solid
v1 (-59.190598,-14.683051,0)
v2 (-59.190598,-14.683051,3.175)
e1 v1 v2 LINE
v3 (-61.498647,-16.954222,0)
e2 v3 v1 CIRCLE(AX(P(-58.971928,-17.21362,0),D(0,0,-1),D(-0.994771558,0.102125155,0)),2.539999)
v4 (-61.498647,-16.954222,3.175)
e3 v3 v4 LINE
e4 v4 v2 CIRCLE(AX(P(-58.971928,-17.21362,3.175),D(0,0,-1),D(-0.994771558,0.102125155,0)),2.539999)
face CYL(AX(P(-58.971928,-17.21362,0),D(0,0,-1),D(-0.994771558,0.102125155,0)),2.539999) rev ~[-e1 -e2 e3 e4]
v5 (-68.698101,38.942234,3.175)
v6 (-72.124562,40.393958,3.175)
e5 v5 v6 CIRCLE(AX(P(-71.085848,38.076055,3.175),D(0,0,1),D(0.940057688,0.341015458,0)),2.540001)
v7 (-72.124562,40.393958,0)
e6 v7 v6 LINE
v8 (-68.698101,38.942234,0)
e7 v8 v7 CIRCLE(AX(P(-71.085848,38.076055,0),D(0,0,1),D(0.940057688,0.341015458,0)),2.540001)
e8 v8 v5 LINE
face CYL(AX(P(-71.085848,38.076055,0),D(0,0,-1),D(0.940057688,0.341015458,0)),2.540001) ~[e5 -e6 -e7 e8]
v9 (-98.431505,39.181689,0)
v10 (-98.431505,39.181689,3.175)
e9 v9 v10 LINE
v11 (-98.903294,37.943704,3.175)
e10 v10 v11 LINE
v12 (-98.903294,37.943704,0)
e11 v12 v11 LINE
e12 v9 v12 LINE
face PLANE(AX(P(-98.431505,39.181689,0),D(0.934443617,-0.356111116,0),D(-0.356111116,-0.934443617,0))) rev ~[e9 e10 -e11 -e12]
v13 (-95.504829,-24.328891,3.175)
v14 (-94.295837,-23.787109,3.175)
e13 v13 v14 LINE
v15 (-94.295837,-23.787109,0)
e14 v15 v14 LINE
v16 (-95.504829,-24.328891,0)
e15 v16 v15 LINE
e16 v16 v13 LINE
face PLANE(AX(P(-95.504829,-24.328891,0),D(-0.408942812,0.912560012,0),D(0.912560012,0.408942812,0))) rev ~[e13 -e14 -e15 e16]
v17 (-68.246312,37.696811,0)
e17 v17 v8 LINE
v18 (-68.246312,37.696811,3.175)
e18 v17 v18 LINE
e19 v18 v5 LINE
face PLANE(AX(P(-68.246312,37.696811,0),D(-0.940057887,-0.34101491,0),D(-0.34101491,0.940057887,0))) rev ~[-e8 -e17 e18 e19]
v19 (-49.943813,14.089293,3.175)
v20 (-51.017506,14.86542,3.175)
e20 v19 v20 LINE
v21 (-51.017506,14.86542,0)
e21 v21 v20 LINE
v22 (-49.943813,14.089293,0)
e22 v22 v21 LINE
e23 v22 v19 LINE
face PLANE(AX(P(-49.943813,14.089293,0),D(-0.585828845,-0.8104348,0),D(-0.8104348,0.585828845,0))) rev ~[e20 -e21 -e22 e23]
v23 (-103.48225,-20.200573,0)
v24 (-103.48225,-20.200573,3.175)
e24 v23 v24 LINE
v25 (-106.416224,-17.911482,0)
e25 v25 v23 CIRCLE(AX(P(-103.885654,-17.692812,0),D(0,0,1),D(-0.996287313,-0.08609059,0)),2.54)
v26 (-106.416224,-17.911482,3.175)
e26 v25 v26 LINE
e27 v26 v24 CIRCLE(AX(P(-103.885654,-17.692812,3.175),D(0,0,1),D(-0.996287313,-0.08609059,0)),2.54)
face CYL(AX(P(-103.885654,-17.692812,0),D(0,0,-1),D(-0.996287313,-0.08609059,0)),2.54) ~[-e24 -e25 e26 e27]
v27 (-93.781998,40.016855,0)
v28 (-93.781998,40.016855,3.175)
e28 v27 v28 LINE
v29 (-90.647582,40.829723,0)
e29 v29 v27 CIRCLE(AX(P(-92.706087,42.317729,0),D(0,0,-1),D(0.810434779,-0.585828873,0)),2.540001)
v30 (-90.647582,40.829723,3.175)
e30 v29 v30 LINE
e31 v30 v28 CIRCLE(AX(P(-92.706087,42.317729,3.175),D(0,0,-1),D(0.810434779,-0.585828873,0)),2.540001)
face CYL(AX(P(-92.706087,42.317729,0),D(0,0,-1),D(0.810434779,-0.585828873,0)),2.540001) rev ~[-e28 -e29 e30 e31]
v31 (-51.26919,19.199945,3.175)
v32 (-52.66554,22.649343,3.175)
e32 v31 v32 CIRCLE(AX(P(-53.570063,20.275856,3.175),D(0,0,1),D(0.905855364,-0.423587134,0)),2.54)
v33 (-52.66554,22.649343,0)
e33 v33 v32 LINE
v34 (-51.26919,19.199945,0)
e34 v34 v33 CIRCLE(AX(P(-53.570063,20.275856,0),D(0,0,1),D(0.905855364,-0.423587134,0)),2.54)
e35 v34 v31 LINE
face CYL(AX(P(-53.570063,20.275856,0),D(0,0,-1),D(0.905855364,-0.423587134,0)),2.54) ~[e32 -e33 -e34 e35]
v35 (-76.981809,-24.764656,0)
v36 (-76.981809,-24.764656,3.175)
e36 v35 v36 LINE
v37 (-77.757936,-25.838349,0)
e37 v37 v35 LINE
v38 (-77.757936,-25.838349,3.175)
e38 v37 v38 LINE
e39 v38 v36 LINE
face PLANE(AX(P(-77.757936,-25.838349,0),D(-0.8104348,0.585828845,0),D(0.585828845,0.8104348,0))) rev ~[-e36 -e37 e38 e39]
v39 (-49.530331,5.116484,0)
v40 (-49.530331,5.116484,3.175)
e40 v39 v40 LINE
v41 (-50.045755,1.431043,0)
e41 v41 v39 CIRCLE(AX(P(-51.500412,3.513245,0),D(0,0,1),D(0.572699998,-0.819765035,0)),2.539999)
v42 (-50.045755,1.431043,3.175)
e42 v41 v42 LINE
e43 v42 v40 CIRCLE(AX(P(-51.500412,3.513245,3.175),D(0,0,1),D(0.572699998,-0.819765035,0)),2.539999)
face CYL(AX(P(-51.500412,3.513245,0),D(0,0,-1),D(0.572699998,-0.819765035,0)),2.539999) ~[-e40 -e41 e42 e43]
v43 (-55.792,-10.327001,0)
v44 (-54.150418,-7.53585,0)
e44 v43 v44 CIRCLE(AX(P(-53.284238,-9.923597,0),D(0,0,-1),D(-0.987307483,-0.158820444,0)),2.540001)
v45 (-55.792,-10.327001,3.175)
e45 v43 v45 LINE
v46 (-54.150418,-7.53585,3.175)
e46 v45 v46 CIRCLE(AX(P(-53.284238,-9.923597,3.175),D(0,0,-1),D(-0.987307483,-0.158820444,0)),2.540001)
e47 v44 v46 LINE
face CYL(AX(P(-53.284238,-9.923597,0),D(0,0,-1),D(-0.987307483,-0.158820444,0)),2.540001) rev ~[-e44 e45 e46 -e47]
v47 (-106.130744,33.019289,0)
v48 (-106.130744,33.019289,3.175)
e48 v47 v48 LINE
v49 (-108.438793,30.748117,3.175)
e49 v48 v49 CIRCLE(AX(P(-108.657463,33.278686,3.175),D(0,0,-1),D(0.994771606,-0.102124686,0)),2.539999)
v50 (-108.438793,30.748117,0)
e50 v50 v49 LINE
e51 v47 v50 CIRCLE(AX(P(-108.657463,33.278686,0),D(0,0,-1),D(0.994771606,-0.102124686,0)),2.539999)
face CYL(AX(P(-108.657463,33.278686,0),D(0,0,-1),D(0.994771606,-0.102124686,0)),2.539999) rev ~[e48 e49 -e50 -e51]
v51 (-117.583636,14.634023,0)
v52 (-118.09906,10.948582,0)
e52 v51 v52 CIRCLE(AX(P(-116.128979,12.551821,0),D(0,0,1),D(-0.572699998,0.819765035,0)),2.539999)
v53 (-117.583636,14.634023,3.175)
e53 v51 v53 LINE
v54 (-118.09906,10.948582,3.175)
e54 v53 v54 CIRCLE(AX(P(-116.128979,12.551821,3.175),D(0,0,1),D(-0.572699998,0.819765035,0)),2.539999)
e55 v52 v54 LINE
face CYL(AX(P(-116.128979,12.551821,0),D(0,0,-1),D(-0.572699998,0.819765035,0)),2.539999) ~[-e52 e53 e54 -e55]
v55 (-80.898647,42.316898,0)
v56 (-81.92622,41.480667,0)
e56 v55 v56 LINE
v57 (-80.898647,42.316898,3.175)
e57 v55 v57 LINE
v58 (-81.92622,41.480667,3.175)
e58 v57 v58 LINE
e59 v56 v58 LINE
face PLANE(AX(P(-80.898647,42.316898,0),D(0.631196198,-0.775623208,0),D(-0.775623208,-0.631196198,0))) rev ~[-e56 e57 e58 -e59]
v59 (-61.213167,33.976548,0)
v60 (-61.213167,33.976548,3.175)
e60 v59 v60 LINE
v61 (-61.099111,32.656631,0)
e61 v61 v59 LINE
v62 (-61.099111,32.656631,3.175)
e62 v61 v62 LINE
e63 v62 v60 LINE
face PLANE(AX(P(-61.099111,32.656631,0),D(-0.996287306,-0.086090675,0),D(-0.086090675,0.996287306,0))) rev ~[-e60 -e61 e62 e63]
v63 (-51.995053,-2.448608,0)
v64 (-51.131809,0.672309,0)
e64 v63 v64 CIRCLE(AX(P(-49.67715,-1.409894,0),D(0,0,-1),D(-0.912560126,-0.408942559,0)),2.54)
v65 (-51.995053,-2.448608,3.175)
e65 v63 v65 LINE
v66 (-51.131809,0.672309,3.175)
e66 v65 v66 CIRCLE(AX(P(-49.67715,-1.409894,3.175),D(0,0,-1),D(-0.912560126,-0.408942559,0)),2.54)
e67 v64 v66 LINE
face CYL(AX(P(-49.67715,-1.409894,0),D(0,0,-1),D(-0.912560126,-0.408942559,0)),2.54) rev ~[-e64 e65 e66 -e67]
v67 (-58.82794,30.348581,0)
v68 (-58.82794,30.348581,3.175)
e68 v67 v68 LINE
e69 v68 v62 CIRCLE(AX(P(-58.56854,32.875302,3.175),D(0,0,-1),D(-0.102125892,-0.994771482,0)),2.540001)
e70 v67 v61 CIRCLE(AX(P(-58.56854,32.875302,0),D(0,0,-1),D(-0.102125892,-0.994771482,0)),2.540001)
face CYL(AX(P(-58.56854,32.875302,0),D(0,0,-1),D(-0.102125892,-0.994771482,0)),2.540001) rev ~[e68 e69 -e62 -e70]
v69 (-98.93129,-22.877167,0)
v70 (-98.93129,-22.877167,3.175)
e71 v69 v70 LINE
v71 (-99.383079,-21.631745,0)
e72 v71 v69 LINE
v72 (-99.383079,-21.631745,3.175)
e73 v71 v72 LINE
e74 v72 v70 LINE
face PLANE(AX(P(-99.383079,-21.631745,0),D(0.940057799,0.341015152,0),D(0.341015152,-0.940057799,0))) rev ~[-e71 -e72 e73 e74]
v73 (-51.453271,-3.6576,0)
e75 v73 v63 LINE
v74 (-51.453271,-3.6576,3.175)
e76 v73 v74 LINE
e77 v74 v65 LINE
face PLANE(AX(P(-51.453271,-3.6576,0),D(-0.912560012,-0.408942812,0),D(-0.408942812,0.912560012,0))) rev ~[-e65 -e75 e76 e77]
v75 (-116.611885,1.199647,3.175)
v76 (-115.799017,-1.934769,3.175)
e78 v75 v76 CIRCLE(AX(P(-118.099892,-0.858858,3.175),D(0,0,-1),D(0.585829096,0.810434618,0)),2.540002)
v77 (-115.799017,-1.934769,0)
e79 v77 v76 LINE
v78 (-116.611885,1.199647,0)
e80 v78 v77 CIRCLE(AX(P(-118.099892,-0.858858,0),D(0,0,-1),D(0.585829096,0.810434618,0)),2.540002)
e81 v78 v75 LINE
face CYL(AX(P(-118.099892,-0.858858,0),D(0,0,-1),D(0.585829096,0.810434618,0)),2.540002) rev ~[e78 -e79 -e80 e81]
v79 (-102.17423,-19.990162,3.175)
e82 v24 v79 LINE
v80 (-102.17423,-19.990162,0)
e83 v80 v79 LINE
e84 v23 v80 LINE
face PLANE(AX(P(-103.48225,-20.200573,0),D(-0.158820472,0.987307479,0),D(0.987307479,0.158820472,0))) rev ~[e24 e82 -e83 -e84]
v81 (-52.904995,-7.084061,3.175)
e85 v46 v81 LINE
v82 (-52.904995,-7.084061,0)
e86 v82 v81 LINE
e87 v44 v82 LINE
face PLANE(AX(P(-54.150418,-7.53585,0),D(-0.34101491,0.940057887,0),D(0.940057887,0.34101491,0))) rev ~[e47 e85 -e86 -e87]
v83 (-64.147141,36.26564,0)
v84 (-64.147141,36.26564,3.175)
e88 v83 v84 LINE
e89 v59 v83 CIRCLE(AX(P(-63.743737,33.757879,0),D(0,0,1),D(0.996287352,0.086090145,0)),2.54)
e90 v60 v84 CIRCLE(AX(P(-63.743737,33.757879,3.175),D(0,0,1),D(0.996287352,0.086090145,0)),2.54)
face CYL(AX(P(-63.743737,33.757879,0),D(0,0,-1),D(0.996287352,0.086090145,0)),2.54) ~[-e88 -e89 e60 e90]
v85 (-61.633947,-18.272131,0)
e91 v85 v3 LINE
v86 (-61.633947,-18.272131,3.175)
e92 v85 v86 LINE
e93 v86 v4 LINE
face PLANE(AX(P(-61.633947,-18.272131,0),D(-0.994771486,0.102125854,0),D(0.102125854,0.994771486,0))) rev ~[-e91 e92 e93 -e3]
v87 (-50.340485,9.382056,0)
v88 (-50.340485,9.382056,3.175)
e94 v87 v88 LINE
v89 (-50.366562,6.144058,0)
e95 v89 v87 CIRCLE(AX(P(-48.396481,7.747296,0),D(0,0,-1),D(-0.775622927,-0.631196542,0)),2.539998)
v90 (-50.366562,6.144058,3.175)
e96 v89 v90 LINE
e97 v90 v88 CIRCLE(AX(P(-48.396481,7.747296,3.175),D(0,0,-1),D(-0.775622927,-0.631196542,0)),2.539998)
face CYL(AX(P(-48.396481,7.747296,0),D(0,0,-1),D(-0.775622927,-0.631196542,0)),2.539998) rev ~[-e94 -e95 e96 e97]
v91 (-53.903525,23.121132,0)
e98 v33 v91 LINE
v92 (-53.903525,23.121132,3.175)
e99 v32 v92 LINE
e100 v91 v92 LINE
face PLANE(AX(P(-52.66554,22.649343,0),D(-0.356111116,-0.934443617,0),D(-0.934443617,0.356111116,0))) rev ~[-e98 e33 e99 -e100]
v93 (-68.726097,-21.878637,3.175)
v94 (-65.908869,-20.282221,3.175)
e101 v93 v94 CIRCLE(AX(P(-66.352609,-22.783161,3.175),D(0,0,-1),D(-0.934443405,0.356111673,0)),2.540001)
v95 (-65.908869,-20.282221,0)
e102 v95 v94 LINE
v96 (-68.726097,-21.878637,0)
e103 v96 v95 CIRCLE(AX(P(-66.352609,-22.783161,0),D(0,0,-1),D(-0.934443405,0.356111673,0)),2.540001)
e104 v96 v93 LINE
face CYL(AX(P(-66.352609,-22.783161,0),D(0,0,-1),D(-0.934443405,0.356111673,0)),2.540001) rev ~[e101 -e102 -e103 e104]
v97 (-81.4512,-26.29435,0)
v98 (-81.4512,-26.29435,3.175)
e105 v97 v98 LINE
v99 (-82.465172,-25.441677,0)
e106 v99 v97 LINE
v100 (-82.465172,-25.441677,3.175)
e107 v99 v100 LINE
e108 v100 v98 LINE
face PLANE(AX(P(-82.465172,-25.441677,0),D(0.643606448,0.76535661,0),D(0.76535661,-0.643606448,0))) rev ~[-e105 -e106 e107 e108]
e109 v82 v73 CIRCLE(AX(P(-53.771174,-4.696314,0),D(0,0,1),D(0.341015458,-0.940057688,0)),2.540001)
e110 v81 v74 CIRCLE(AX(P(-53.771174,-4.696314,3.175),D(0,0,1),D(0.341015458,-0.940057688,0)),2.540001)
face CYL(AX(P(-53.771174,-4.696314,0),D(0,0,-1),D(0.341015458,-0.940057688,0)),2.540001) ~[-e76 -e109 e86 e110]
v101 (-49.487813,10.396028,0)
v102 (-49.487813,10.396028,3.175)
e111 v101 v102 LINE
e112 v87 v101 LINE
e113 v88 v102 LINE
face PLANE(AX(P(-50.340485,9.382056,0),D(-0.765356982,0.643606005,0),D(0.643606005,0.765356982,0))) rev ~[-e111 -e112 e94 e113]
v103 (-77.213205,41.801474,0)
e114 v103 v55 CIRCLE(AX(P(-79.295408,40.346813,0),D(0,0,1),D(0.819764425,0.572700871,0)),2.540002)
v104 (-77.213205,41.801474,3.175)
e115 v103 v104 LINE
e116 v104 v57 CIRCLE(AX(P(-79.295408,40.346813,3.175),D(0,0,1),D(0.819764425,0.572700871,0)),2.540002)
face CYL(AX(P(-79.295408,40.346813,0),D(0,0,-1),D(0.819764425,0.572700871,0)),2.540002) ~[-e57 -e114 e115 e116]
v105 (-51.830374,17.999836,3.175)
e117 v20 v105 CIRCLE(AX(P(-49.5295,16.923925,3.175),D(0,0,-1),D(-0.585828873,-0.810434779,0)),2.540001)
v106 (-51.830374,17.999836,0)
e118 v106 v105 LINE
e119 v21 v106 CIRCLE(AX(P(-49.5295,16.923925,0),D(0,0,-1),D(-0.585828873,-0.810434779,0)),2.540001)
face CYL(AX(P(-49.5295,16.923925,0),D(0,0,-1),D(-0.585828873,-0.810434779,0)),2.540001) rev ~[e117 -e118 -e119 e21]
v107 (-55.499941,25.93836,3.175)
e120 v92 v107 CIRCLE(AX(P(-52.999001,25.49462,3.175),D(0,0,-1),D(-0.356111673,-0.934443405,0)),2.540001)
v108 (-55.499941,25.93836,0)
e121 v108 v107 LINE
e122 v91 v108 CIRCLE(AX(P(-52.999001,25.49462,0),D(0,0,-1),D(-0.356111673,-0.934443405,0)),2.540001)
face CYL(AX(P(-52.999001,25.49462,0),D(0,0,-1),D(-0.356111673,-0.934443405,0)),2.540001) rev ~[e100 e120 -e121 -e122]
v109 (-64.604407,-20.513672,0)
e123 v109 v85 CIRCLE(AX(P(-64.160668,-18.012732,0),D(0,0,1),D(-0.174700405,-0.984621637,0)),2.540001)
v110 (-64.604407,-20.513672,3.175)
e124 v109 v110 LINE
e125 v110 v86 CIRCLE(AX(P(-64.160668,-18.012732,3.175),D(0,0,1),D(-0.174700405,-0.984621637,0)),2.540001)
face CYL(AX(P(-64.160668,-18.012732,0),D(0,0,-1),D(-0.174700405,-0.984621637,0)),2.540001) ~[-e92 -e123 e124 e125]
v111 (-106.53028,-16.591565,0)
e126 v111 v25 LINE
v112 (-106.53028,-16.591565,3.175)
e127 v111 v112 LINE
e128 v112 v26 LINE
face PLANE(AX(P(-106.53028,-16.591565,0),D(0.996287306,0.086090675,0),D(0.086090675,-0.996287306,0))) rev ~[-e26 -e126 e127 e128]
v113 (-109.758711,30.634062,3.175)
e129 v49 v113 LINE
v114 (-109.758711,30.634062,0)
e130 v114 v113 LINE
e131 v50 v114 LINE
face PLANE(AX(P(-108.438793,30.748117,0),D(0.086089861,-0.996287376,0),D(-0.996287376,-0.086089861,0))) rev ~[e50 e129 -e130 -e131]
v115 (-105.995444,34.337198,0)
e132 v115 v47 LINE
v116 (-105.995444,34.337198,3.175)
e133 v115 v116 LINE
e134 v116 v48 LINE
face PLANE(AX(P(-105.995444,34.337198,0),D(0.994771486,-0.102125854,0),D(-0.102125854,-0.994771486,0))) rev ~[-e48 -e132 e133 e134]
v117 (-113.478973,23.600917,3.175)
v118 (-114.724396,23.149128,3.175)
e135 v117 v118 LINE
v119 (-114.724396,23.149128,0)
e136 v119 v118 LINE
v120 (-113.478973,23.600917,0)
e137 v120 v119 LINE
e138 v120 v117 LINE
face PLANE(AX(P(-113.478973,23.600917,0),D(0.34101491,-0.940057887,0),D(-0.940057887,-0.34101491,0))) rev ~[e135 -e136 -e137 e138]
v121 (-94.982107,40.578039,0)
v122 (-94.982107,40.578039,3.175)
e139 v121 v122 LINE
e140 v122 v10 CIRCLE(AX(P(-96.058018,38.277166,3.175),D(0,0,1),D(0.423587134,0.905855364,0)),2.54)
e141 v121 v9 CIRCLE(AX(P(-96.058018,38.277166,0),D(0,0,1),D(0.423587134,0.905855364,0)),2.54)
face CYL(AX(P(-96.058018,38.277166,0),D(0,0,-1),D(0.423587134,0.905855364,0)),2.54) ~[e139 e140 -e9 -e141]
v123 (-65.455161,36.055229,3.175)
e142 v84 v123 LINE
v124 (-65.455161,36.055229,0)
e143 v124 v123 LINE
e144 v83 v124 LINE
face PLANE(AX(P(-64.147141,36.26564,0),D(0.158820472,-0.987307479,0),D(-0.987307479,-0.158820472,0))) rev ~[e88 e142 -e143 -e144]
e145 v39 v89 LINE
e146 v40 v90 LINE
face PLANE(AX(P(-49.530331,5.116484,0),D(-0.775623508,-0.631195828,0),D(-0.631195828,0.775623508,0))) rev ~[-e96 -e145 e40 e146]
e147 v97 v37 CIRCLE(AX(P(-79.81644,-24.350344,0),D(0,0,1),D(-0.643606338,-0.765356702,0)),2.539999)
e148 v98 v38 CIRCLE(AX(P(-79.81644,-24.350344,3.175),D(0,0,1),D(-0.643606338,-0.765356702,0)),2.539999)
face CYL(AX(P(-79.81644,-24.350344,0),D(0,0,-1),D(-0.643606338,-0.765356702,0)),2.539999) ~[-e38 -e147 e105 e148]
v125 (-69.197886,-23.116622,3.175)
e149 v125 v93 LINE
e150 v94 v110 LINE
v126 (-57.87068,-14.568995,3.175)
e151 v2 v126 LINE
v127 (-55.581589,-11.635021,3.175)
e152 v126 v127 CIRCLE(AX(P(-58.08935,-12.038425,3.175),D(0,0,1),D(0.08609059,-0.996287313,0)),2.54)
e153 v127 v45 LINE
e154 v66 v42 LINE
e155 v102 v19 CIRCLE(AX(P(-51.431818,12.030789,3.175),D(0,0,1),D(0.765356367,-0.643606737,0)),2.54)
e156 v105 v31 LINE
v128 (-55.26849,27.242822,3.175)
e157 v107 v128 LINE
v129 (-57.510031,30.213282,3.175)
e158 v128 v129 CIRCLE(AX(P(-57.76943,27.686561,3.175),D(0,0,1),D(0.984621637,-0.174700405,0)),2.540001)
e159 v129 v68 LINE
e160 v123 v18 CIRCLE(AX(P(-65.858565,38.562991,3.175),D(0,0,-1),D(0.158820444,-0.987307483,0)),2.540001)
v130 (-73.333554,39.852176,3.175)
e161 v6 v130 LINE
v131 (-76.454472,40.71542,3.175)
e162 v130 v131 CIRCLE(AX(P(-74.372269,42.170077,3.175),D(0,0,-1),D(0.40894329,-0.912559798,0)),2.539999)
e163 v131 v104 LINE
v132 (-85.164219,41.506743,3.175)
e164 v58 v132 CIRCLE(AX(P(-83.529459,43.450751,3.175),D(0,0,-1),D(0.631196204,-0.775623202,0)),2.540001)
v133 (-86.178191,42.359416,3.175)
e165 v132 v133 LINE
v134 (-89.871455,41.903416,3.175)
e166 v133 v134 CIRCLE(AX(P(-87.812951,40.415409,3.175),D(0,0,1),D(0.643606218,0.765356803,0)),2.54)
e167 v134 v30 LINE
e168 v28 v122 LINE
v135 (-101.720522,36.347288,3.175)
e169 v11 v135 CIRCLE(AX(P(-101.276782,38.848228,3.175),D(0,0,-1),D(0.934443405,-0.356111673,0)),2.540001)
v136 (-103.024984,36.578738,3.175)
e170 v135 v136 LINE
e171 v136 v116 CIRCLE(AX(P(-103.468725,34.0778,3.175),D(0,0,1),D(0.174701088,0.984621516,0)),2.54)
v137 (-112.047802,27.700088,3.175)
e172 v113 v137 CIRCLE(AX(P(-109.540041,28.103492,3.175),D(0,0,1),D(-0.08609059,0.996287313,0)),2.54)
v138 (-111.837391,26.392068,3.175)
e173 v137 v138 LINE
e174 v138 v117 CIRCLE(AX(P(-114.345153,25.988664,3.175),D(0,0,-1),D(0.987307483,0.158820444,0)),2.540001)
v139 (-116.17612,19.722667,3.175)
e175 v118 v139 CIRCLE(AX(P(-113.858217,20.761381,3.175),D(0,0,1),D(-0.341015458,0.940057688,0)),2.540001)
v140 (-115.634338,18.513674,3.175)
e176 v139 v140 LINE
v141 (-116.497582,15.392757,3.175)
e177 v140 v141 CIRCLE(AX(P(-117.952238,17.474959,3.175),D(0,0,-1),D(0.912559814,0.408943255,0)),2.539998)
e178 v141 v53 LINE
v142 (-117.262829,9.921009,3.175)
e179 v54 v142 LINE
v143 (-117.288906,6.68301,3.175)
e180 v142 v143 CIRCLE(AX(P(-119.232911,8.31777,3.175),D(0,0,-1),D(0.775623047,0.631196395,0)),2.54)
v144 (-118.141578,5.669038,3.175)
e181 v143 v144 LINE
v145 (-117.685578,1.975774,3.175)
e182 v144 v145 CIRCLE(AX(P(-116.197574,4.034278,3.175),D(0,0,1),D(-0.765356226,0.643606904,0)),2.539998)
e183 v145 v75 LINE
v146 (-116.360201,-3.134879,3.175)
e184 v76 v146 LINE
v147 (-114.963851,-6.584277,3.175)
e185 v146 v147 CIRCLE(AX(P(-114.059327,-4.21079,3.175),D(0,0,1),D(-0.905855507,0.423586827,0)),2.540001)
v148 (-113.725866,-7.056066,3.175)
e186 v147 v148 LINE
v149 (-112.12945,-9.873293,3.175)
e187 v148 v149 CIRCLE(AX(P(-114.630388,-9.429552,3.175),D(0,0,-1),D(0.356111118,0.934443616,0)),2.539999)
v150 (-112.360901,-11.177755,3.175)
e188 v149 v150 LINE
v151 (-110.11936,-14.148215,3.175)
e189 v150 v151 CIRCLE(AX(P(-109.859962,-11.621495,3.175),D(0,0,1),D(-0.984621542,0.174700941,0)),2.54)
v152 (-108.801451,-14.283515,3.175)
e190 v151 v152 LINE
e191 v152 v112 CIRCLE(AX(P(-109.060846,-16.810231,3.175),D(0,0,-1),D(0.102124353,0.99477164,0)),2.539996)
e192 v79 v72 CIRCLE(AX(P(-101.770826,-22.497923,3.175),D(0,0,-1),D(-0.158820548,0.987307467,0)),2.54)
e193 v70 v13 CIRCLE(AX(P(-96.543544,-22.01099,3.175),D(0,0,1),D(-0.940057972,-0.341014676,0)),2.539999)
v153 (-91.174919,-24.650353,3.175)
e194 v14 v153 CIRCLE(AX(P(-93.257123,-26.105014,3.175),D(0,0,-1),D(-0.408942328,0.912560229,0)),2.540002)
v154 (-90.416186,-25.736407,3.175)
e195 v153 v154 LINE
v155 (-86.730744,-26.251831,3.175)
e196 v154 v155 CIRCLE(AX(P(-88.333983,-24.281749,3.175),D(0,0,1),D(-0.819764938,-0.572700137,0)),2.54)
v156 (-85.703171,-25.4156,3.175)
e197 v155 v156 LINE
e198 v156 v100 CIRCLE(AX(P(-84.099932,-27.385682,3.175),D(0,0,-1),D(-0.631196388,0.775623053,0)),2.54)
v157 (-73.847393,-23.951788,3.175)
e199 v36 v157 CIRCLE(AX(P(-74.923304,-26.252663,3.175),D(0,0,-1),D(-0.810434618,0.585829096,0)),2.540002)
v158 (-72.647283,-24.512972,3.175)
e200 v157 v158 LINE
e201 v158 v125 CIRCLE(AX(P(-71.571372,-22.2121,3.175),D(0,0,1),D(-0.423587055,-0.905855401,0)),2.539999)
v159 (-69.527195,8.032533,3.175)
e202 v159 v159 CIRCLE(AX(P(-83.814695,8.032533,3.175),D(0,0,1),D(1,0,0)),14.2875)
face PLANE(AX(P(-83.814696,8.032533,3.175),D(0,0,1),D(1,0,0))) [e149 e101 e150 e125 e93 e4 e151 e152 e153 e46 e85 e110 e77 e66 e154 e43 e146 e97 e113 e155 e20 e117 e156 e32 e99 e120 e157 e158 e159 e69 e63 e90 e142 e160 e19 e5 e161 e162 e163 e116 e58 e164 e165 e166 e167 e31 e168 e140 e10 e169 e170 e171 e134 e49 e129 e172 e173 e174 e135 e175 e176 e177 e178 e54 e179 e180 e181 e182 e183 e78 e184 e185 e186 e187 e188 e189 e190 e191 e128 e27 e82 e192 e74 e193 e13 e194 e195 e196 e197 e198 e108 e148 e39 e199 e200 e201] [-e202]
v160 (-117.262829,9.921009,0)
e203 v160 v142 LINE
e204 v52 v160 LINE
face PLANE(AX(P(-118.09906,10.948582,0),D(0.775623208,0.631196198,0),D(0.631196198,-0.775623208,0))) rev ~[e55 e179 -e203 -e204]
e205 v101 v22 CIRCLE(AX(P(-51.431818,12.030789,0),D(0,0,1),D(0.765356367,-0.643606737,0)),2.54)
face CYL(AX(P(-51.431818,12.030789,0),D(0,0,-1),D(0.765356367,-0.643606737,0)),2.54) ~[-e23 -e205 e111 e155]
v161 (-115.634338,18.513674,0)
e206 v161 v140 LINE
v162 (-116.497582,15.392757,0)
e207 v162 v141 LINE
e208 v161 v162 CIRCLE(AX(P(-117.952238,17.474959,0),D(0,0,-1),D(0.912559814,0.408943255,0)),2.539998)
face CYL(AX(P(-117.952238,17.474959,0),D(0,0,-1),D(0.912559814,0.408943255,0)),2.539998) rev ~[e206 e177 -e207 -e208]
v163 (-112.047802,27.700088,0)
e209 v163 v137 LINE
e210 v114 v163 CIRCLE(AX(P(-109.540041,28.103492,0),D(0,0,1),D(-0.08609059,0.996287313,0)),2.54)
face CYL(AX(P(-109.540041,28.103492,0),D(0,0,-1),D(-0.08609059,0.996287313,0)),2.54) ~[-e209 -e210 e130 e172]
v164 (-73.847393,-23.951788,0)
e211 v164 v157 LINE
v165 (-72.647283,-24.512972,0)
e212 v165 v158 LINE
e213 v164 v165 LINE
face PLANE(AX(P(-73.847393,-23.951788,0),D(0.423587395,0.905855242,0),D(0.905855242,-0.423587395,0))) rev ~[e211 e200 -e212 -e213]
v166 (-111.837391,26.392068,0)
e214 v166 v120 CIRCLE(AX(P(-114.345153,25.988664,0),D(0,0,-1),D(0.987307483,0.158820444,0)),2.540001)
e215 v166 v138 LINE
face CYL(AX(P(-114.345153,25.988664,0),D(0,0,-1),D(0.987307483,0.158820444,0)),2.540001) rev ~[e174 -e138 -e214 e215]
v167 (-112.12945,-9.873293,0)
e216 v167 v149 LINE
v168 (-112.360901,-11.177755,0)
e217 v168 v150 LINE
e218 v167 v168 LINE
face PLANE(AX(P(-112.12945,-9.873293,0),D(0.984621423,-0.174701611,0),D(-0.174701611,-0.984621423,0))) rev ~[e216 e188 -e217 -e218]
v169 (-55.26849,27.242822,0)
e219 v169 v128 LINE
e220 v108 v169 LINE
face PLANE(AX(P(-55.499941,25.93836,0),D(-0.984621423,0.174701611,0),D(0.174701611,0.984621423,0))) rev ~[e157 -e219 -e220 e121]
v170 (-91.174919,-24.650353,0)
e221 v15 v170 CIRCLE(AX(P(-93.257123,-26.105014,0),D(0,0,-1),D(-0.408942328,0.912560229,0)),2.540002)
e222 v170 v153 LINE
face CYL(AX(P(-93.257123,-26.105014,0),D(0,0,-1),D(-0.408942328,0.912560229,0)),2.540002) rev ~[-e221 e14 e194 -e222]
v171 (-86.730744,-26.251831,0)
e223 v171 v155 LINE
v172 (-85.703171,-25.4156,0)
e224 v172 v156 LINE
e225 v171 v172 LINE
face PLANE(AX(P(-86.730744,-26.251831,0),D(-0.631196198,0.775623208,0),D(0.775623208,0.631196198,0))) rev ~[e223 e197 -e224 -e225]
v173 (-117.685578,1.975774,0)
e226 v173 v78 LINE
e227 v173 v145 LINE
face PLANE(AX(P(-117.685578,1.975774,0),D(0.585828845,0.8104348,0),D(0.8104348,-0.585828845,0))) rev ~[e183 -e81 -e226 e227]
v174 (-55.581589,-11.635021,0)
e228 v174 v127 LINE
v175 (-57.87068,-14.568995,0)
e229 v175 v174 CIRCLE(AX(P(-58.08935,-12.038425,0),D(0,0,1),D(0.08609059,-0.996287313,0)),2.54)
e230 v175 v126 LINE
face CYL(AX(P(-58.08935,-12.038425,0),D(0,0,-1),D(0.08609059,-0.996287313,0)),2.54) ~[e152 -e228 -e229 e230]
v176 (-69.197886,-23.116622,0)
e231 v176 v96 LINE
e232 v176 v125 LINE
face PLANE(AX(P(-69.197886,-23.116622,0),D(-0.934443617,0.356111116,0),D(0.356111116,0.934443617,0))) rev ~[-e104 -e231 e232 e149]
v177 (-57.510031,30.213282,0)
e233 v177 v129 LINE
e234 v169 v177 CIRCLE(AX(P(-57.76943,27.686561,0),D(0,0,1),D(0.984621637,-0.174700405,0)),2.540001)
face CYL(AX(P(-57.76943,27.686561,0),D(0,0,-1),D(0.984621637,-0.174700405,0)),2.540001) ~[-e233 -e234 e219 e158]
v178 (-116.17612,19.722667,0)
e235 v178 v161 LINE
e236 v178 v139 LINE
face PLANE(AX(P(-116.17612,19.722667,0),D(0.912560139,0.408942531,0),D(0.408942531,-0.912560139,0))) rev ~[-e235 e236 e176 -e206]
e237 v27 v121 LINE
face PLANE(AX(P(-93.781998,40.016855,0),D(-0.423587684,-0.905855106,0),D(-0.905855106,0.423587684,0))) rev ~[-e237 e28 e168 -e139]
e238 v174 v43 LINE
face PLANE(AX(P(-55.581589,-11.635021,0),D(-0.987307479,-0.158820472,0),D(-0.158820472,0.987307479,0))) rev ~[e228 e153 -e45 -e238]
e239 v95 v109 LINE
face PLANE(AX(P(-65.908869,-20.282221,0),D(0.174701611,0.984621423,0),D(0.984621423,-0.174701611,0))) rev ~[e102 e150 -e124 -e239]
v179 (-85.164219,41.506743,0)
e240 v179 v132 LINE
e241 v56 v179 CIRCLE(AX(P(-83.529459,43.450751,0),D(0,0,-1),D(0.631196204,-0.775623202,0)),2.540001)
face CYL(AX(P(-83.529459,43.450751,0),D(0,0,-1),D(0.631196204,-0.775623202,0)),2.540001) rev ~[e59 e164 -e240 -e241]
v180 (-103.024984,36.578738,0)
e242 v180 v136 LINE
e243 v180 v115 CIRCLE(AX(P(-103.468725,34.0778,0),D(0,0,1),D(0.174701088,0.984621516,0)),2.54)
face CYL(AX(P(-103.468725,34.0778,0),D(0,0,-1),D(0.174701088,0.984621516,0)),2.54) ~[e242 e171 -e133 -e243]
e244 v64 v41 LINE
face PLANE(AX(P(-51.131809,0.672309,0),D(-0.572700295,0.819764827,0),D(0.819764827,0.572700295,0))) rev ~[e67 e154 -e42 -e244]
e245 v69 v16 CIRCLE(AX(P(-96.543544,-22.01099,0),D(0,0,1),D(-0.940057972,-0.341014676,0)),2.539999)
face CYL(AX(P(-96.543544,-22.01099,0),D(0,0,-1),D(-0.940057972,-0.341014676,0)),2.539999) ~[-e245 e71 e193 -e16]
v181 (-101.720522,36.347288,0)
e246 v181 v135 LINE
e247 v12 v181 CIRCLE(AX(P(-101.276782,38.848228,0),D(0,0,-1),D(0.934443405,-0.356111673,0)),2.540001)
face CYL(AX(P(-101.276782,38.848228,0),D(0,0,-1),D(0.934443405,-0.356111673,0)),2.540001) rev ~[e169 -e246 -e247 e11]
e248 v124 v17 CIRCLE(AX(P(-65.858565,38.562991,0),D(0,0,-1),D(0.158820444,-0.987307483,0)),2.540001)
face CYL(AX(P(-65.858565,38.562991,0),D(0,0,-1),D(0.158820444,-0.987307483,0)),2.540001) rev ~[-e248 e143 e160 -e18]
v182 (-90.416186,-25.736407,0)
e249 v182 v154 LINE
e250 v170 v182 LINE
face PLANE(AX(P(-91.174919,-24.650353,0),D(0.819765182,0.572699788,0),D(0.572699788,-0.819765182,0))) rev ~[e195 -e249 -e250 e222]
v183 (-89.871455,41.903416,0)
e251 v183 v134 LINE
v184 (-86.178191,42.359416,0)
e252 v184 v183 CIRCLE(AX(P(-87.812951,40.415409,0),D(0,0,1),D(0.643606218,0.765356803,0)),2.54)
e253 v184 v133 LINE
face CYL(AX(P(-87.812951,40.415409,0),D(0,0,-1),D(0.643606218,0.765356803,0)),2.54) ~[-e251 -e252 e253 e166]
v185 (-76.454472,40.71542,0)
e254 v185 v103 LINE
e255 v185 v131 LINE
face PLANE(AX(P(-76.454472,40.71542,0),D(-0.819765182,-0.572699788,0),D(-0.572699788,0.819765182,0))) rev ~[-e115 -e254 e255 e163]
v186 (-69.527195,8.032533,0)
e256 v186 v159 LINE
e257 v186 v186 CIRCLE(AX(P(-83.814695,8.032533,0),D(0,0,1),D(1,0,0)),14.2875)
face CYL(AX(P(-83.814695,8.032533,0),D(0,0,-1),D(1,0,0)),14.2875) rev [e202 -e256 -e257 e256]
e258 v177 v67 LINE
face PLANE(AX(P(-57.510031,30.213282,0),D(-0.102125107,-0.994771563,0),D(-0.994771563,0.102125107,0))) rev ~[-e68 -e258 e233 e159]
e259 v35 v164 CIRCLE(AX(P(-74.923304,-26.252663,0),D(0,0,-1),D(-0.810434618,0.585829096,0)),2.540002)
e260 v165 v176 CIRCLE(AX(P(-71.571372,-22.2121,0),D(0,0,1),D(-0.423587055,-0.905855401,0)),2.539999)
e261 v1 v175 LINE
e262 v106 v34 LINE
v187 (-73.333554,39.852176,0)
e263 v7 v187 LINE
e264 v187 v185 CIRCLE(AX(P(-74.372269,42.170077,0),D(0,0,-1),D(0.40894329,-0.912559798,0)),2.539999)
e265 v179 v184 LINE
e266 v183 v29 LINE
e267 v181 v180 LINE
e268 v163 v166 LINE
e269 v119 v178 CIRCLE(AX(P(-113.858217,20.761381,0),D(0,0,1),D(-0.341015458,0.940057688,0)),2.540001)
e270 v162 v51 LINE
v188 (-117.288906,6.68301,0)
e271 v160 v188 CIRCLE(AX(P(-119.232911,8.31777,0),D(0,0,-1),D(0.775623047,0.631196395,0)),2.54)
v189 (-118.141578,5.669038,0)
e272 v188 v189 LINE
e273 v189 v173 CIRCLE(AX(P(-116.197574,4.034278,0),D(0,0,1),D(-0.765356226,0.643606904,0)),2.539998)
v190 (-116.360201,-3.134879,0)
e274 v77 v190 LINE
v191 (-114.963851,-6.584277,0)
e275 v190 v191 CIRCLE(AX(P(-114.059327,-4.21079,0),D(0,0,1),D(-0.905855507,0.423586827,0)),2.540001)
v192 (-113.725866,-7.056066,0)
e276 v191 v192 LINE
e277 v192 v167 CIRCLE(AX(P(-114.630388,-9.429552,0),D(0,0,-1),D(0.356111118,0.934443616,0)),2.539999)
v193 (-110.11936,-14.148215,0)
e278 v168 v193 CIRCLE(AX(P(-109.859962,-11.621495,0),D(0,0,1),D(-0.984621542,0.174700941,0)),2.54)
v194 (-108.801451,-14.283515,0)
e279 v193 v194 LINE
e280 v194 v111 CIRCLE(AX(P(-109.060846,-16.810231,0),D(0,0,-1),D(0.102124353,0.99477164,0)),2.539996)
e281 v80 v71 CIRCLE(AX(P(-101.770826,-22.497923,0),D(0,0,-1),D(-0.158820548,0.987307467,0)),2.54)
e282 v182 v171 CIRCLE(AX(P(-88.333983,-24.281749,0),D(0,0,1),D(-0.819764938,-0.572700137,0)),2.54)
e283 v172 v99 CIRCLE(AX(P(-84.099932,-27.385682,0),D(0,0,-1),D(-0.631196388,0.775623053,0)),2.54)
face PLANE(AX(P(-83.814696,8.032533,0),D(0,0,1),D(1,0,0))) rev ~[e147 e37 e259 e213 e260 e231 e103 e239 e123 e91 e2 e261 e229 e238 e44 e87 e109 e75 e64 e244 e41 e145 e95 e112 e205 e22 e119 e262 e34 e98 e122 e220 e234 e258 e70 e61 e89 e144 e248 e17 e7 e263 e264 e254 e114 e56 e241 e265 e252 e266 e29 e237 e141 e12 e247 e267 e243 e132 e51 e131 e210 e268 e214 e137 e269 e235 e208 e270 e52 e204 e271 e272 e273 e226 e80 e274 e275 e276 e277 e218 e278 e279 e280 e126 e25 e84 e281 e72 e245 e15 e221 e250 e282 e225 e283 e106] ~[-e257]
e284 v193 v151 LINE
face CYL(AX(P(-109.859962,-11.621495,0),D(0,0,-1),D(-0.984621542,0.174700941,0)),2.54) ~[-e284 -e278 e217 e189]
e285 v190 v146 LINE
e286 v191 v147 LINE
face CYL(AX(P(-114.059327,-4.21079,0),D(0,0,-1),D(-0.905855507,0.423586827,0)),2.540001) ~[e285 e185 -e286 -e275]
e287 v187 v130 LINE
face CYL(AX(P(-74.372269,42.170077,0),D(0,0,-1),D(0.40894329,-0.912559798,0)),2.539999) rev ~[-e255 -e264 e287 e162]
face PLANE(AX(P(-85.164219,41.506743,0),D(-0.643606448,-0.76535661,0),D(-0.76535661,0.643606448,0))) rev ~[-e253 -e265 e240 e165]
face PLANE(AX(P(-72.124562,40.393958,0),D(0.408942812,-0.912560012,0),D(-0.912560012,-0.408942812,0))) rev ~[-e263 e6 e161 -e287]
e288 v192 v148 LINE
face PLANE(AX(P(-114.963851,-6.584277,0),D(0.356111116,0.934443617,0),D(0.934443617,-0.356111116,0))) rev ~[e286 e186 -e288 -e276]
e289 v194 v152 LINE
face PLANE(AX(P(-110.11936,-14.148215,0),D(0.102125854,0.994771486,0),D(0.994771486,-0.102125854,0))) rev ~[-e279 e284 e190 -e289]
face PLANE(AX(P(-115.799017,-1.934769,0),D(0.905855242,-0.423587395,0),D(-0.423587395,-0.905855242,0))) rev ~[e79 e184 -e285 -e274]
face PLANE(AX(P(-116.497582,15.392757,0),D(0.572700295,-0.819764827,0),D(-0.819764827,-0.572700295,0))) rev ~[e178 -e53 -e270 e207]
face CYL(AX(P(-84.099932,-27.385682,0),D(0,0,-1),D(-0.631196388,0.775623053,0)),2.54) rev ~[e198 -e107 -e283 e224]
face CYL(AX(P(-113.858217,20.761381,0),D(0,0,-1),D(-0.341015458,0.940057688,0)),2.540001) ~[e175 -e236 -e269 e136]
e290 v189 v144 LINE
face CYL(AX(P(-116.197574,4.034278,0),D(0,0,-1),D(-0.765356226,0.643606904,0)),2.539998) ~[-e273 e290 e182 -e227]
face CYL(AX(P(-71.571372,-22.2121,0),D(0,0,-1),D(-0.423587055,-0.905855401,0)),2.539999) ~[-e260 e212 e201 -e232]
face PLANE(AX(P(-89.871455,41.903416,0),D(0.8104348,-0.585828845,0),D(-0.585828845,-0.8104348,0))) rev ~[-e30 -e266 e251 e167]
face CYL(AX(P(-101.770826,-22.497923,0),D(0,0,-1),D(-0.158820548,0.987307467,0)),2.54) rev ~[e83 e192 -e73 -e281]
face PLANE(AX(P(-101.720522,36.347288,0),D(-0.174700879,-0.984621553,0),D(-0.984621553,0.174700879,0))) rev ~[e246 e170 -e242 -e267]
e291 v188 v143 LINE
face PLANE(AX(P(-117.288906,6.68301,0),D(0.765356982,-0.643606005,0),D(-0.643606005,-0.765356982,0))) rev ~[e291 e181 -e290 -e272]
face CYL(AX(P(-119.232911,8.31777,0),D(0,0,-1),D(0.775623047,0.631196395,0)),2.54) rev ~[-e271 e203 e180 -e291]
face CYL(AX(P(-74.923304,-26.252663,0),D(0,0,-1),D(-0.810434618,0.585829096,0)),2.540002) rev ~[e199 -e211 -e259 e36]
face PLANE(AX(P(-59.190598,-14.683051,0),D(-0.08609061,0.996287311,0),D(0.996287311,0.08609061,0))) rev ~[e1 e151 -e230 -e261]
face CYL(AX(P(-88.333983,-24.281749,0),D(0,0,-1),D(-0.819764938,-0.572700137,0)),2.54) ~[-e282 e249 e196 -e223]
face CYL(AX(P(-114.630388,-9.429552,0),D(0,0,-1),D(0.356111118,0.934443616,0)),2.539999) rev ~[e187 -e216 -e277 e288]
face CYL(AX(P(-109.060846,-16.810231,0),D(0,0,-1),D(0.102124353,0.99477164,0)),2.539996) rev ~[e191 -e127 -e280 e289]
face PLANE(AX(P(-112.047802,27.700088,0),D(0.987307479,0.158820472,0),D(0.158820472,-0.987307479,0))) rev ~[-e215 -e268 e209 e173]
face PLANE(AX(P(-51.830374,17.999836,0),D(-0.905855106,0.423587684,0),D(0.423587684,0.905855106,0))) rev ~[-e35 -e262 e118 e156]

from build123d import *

# Parameters (mm, degrees)
F0_R     = 14.2875
F1_DEPTH = 3.175


with BuildPart() as f1:
    # F0 (on Top) → F1 (new body)
    with BuildSketch(Plane.XY):
        with BuildLine():
            Line((-101.720522, 36.347288), (-103.024984, 36.578738))
            ThreePointArc((-103.024984, 36.578738), (-104.9987, 36.105304), (-105.995444, 34.337198))
            Line((-105.995444, 34.337198), (-106.130744, 33.019289))
            ThreePointArc((-106.130744, 33.019289), (-106.875934, 31.46823), (-108.438793, 30.748117))
            Line((-108.438793, 30.748117), (-109.758711, 30.634062))
            ThreePointArc((-109.758711, 30.634062), (-111.542641, 29.665924), (-112.047802, 27.700088))
            Line((-112.047802, 27.700088), (-111.837391, 26.392068))
            ThreePointArc((-111.837391, 26.392068), (-112.155746, 24.700991), (-113.478973, 23.600917))
            Line((-113.478973, 23.600917), (-114.724396, 23.149128))
            ThreePointArc((-114.724396, 23.149128), (-116.196967, 21.752264), (-116.17612, 19.722667))
            Line((-116.17612, 19.722667), (-115.634338, 18.513674))
            ThreePointArc((-115.634338, 18.513674), (-115.504162, 16.797823), (-116.497582, 15.392757))
            Line((-116.497582, 15.392757), (-117.583636, 14.634023))
            ThreePointArc((-117.583636, 14.634023), (-118.644496, 12.903626), (-118.09906, 10.948582))
            Line((-118.09906, 10.948582), (-117.262829, 9.921009))
            ThreePointArc((-117.262829, 9.921009), (-116.692994, 8.297315), (-117.288906, 6.68301))
            Line((-117.288906, 6.68301), (-118.141578, 5.669038))
            ThreePointArc((-118.141578, 5.669038), (-118.718431, 3.723032), (-117.685578, 1.975774))
            Line((-117.685578, 1.975774), (-116.611885, 1.199647))
            ThreePointArc((-116.611885, 1.199647), (-115.641224, -0.221237), (-115.799017, -1.934769))
            Line((-115.799017, -1.934769), (-116.360201, -3.134879))
            ThreePointArc((-116.360201, -3.134879), (-116.413734, -5.163876), (-114.963851, -6.584277))
            Line((-114.963851, -6.584277), (-113.725866, -7.056066))
            ThreePointArc((-113.725866, -7.056066), (-112.420528, -8.177308), (-112.12945, -9.873293))
            Line((-112.12945, -9.873293), (-112.360901, -11.177755))
            ThreePointArc((-112.360901, -11.177755), (-111.887466, -13.151472), (-110.11936, -14.148215))
            Line((-110.11936, -14.148215), (-108.801451, -14.283515))
            ThreePointArc((-108.801451, -14.283515), (-107.250392, -15.028705), (-106.53028, -16.591565))
            Line((-106.53028, -16.591565), (-106.416224, -17.911482))
            ThreePointArc((-106.416224, -17.911482), (-105.448086, -19.695412), (-103.48225, -20.200573))
            Line((-103.48225, -20.200573), (-102.17423, -19.990162))
            ThreePointArc((-102.17423, -19.990162), (-100.483153, -20.308517), (-99.383079, -21.631745))
            Line((-99.383079, -21.631745), (-98.93129, -22.877167))
            ThreePointArc((-98.93129, -22.877167), (-97.534426, -24.349739), (-95.504829, -24.328891))
            Line((-95.504829, -24.328891), (-94.295837, -23.787109))
            ThreePointArc((-94.295837, -23.787109), (-92.579985, -23.656934), (-91.174919, -24.650353))
            Line((-91.174919, -24.650353), (-90.416186, -25.736407))
            ThreePointArc((-90.416186, -25.736407), (-88.685789, -26.797267), (-86.730744, -26.251831))
            Line((-86.730744, -26.251831), (-85.703171, -25.4156))
            ThreePointArc((-85.703171, -25.4156), (-84.079478, -24.845765), (-82.465172, -25.441677))
            Line((-82.465172, -25.441677), (-81.4512, -26.29435))
            ThreePointArc((-81.4512, -26.29435), (-79.505194, -26.871202), (-77.757936, -25.838349))
            Line((-77.757936, -25.838349), (-76.981809, -24.764656))
            ThreePointArc((-76.981809, -24.764656), (-75.560925, -23.793995), (-73.847393, -23.951788))
            Line((-73.847393, -23.951788), (-72.647283, -24.512972))
            ThreePointArc((-72.647283, -24.512972), (-70.618286, -24.566505), (-69.197886, -23.116622))
            Line((-69.197886, -23.116622), (-68.726097, -21.878637))
            ThreePointArc((-68.726097, -21.878637), (-67.604854, -20.573299), (-65.908869, -20.282221))
            Line((-65.908869, -20.282221), (-64.604407, -20.513672))
            ThreePointArc((-64.604407, -20.513672), (-62.630691, -20.040237), (-61.633947, -18.272131))
            Line((-61.633947, -18.272131), (-61.498647, -16.954222))
            ThreePointArc((-61.498647, -16.954222), (-60.753457, -15.403164), (-59.190598, -14.683051))
            Line((-59.190598, -14.683051), (-57.87068, -14.568995))
            ThreePointArc((-57.87068, -14.568995), (-56.08675, -13.600857), (-55.581589, -11.635021))
            Line((-55.581589, -11.635021), (-55.792, -10.327001))
            ThreePointArc((-55.792, -10.327001), (-55.473645, -8.635924), (-54.150418, -7.53585))
            Line((-54.150418, -7.53585), (-52.904995, -7.084061))
            ThreePointArc((-52.904995, -7.084061), (-51.432424, -5.687197), (-51.453271, -3.6576))
            Line((-51.453271, -3.6576), (-51.995053, -2.448608))
            ThreePointArc((-51.995053, -2.448608), (-52.125228, -0.732756), (-51.131809, 0.672309))
            Line((-51.131809, 0.672309), (-50.045755, 1.431043))
            ThreePointArc((-50.045755, 1.431043), (-48.984895, 3.16144), (-49.530331, 5.116484))
            Line((-49.530331, 5.116484), (-50.366562, 6.144058))
            ThreePointArc((-50.366562, 6.144058), (-50.936397, 7.767751), (-50.340485, 9.382056))
            Line((-50.340485, 9.382056), (-49.487813, 10.396028))
            ThreePointArc((-49.487813, 10.396028), (-48.91096, 12.342034), (-49.943813, 14.089293))
            Line((-49.943813, 14.089293), (-51.017506, 14.86542))
            ThreePointArc((-51.017506, 14.86542), (-51.988167, 16.286303), (-51.830374, 17.999836))
            Line((-51.830374, 17.999836), (-51.26919, 19.199945))
            ThreePointArc((-51.26919, 19.199945), (-51.215657, 21.228943), (-52.66554, 22.649343))
            Line((-52.66554, 22.649343), (-53.903525, 23.121132))
            ThreePointArc((-53.903525, 23.121132), (-55.208863, 24.242375), (-55.499941, 25.93836))
            Line((-55.499941, 25.93836), (-55.26849, 27.242822))
            ThreePointArc((-55.26849, 27.242822), (-55.741925, 29.216538), (-57.510031, 30.213282))
            Line((-57.510031, 30.213282), (-58.82794, 30.348581))
            ThreePointArc((-58.82794, 30.348581), (-60.378998, 31.093772), (-61.099111, 32.656631))
            Line((-61.099111, 32.656631), (-61.213167, 33.976548))
            ThreePointArc((-61.213167, 33.976548), (-62.181305, 35.760479), (-64.147141, 36.26564))
            Line((-64.147141, 36.26564), (-65.455161, 36.055229))
            ThreePointArc((-65.455161, 36.055229), (-67.146238, 36.373584), (-68.246312, 37.696811))
            Line((-68.246312, 37.696811), (-68.698101, 38.942234))
            ThreePointArc((-68.698101, 38.942234), (-70.094965, 40.414805), (-72.124562, 40.393958))
            Line((-72.124562, 40.393958), (-73.333554, 39.852176))
            ThreePointArc((-73.333554, 39.852176), (-75.049406, 39.722), (-76.454472, 40.71542))
            Line((-76.454472, 40.71542), (-77.213205, 41.801474))
            ThreePointArc((-77.213205, 41.801474), (-78.943602, 42.862333), (-80.898647, 42.316898))
            Line((-80.898647, 42.316898), (-81.92622, 41.480667))
            ThreePointArc((-81.92622, 41.480667), (-83.549913, 40.910832), (-85.164219, 41.506743))
            Line((-85.164219, 41.506743), (-86.178191, 42.359416))
            ThreePointArc((-86.178191, 42.359416), (-88.124197, 42.936268), (-89.871455, 41.903416))
            Line((-89.871455, 41.903416), (-90.647582, 40.829723))
            ThreePointArc((-90.647582, 40.829723), (-92.068465, 39.859062), (-93.781998, 40.016855))
            Line((-93.781998, 40.016855), (-94.982107, 40.578039))
            ThreePointArc((-94.982107, 40.578039), (-97.011105, 40.631572), (-98.431505, 39.181689))
            Line((-98.431505, 39.181689), (-98.903294, 37.943704))
            ThreePointArc((-98.903294, 37.943704), (-100.024537, 36.638366), (-101.720522, 36.347288))
        make_face()
        with Locations((-83.814695, 8.032533)):
            Circle(F0_R, mode=Mode.SUBTRACT)
    extrude(amount=F1_DEPTH)


solid = f1.part
